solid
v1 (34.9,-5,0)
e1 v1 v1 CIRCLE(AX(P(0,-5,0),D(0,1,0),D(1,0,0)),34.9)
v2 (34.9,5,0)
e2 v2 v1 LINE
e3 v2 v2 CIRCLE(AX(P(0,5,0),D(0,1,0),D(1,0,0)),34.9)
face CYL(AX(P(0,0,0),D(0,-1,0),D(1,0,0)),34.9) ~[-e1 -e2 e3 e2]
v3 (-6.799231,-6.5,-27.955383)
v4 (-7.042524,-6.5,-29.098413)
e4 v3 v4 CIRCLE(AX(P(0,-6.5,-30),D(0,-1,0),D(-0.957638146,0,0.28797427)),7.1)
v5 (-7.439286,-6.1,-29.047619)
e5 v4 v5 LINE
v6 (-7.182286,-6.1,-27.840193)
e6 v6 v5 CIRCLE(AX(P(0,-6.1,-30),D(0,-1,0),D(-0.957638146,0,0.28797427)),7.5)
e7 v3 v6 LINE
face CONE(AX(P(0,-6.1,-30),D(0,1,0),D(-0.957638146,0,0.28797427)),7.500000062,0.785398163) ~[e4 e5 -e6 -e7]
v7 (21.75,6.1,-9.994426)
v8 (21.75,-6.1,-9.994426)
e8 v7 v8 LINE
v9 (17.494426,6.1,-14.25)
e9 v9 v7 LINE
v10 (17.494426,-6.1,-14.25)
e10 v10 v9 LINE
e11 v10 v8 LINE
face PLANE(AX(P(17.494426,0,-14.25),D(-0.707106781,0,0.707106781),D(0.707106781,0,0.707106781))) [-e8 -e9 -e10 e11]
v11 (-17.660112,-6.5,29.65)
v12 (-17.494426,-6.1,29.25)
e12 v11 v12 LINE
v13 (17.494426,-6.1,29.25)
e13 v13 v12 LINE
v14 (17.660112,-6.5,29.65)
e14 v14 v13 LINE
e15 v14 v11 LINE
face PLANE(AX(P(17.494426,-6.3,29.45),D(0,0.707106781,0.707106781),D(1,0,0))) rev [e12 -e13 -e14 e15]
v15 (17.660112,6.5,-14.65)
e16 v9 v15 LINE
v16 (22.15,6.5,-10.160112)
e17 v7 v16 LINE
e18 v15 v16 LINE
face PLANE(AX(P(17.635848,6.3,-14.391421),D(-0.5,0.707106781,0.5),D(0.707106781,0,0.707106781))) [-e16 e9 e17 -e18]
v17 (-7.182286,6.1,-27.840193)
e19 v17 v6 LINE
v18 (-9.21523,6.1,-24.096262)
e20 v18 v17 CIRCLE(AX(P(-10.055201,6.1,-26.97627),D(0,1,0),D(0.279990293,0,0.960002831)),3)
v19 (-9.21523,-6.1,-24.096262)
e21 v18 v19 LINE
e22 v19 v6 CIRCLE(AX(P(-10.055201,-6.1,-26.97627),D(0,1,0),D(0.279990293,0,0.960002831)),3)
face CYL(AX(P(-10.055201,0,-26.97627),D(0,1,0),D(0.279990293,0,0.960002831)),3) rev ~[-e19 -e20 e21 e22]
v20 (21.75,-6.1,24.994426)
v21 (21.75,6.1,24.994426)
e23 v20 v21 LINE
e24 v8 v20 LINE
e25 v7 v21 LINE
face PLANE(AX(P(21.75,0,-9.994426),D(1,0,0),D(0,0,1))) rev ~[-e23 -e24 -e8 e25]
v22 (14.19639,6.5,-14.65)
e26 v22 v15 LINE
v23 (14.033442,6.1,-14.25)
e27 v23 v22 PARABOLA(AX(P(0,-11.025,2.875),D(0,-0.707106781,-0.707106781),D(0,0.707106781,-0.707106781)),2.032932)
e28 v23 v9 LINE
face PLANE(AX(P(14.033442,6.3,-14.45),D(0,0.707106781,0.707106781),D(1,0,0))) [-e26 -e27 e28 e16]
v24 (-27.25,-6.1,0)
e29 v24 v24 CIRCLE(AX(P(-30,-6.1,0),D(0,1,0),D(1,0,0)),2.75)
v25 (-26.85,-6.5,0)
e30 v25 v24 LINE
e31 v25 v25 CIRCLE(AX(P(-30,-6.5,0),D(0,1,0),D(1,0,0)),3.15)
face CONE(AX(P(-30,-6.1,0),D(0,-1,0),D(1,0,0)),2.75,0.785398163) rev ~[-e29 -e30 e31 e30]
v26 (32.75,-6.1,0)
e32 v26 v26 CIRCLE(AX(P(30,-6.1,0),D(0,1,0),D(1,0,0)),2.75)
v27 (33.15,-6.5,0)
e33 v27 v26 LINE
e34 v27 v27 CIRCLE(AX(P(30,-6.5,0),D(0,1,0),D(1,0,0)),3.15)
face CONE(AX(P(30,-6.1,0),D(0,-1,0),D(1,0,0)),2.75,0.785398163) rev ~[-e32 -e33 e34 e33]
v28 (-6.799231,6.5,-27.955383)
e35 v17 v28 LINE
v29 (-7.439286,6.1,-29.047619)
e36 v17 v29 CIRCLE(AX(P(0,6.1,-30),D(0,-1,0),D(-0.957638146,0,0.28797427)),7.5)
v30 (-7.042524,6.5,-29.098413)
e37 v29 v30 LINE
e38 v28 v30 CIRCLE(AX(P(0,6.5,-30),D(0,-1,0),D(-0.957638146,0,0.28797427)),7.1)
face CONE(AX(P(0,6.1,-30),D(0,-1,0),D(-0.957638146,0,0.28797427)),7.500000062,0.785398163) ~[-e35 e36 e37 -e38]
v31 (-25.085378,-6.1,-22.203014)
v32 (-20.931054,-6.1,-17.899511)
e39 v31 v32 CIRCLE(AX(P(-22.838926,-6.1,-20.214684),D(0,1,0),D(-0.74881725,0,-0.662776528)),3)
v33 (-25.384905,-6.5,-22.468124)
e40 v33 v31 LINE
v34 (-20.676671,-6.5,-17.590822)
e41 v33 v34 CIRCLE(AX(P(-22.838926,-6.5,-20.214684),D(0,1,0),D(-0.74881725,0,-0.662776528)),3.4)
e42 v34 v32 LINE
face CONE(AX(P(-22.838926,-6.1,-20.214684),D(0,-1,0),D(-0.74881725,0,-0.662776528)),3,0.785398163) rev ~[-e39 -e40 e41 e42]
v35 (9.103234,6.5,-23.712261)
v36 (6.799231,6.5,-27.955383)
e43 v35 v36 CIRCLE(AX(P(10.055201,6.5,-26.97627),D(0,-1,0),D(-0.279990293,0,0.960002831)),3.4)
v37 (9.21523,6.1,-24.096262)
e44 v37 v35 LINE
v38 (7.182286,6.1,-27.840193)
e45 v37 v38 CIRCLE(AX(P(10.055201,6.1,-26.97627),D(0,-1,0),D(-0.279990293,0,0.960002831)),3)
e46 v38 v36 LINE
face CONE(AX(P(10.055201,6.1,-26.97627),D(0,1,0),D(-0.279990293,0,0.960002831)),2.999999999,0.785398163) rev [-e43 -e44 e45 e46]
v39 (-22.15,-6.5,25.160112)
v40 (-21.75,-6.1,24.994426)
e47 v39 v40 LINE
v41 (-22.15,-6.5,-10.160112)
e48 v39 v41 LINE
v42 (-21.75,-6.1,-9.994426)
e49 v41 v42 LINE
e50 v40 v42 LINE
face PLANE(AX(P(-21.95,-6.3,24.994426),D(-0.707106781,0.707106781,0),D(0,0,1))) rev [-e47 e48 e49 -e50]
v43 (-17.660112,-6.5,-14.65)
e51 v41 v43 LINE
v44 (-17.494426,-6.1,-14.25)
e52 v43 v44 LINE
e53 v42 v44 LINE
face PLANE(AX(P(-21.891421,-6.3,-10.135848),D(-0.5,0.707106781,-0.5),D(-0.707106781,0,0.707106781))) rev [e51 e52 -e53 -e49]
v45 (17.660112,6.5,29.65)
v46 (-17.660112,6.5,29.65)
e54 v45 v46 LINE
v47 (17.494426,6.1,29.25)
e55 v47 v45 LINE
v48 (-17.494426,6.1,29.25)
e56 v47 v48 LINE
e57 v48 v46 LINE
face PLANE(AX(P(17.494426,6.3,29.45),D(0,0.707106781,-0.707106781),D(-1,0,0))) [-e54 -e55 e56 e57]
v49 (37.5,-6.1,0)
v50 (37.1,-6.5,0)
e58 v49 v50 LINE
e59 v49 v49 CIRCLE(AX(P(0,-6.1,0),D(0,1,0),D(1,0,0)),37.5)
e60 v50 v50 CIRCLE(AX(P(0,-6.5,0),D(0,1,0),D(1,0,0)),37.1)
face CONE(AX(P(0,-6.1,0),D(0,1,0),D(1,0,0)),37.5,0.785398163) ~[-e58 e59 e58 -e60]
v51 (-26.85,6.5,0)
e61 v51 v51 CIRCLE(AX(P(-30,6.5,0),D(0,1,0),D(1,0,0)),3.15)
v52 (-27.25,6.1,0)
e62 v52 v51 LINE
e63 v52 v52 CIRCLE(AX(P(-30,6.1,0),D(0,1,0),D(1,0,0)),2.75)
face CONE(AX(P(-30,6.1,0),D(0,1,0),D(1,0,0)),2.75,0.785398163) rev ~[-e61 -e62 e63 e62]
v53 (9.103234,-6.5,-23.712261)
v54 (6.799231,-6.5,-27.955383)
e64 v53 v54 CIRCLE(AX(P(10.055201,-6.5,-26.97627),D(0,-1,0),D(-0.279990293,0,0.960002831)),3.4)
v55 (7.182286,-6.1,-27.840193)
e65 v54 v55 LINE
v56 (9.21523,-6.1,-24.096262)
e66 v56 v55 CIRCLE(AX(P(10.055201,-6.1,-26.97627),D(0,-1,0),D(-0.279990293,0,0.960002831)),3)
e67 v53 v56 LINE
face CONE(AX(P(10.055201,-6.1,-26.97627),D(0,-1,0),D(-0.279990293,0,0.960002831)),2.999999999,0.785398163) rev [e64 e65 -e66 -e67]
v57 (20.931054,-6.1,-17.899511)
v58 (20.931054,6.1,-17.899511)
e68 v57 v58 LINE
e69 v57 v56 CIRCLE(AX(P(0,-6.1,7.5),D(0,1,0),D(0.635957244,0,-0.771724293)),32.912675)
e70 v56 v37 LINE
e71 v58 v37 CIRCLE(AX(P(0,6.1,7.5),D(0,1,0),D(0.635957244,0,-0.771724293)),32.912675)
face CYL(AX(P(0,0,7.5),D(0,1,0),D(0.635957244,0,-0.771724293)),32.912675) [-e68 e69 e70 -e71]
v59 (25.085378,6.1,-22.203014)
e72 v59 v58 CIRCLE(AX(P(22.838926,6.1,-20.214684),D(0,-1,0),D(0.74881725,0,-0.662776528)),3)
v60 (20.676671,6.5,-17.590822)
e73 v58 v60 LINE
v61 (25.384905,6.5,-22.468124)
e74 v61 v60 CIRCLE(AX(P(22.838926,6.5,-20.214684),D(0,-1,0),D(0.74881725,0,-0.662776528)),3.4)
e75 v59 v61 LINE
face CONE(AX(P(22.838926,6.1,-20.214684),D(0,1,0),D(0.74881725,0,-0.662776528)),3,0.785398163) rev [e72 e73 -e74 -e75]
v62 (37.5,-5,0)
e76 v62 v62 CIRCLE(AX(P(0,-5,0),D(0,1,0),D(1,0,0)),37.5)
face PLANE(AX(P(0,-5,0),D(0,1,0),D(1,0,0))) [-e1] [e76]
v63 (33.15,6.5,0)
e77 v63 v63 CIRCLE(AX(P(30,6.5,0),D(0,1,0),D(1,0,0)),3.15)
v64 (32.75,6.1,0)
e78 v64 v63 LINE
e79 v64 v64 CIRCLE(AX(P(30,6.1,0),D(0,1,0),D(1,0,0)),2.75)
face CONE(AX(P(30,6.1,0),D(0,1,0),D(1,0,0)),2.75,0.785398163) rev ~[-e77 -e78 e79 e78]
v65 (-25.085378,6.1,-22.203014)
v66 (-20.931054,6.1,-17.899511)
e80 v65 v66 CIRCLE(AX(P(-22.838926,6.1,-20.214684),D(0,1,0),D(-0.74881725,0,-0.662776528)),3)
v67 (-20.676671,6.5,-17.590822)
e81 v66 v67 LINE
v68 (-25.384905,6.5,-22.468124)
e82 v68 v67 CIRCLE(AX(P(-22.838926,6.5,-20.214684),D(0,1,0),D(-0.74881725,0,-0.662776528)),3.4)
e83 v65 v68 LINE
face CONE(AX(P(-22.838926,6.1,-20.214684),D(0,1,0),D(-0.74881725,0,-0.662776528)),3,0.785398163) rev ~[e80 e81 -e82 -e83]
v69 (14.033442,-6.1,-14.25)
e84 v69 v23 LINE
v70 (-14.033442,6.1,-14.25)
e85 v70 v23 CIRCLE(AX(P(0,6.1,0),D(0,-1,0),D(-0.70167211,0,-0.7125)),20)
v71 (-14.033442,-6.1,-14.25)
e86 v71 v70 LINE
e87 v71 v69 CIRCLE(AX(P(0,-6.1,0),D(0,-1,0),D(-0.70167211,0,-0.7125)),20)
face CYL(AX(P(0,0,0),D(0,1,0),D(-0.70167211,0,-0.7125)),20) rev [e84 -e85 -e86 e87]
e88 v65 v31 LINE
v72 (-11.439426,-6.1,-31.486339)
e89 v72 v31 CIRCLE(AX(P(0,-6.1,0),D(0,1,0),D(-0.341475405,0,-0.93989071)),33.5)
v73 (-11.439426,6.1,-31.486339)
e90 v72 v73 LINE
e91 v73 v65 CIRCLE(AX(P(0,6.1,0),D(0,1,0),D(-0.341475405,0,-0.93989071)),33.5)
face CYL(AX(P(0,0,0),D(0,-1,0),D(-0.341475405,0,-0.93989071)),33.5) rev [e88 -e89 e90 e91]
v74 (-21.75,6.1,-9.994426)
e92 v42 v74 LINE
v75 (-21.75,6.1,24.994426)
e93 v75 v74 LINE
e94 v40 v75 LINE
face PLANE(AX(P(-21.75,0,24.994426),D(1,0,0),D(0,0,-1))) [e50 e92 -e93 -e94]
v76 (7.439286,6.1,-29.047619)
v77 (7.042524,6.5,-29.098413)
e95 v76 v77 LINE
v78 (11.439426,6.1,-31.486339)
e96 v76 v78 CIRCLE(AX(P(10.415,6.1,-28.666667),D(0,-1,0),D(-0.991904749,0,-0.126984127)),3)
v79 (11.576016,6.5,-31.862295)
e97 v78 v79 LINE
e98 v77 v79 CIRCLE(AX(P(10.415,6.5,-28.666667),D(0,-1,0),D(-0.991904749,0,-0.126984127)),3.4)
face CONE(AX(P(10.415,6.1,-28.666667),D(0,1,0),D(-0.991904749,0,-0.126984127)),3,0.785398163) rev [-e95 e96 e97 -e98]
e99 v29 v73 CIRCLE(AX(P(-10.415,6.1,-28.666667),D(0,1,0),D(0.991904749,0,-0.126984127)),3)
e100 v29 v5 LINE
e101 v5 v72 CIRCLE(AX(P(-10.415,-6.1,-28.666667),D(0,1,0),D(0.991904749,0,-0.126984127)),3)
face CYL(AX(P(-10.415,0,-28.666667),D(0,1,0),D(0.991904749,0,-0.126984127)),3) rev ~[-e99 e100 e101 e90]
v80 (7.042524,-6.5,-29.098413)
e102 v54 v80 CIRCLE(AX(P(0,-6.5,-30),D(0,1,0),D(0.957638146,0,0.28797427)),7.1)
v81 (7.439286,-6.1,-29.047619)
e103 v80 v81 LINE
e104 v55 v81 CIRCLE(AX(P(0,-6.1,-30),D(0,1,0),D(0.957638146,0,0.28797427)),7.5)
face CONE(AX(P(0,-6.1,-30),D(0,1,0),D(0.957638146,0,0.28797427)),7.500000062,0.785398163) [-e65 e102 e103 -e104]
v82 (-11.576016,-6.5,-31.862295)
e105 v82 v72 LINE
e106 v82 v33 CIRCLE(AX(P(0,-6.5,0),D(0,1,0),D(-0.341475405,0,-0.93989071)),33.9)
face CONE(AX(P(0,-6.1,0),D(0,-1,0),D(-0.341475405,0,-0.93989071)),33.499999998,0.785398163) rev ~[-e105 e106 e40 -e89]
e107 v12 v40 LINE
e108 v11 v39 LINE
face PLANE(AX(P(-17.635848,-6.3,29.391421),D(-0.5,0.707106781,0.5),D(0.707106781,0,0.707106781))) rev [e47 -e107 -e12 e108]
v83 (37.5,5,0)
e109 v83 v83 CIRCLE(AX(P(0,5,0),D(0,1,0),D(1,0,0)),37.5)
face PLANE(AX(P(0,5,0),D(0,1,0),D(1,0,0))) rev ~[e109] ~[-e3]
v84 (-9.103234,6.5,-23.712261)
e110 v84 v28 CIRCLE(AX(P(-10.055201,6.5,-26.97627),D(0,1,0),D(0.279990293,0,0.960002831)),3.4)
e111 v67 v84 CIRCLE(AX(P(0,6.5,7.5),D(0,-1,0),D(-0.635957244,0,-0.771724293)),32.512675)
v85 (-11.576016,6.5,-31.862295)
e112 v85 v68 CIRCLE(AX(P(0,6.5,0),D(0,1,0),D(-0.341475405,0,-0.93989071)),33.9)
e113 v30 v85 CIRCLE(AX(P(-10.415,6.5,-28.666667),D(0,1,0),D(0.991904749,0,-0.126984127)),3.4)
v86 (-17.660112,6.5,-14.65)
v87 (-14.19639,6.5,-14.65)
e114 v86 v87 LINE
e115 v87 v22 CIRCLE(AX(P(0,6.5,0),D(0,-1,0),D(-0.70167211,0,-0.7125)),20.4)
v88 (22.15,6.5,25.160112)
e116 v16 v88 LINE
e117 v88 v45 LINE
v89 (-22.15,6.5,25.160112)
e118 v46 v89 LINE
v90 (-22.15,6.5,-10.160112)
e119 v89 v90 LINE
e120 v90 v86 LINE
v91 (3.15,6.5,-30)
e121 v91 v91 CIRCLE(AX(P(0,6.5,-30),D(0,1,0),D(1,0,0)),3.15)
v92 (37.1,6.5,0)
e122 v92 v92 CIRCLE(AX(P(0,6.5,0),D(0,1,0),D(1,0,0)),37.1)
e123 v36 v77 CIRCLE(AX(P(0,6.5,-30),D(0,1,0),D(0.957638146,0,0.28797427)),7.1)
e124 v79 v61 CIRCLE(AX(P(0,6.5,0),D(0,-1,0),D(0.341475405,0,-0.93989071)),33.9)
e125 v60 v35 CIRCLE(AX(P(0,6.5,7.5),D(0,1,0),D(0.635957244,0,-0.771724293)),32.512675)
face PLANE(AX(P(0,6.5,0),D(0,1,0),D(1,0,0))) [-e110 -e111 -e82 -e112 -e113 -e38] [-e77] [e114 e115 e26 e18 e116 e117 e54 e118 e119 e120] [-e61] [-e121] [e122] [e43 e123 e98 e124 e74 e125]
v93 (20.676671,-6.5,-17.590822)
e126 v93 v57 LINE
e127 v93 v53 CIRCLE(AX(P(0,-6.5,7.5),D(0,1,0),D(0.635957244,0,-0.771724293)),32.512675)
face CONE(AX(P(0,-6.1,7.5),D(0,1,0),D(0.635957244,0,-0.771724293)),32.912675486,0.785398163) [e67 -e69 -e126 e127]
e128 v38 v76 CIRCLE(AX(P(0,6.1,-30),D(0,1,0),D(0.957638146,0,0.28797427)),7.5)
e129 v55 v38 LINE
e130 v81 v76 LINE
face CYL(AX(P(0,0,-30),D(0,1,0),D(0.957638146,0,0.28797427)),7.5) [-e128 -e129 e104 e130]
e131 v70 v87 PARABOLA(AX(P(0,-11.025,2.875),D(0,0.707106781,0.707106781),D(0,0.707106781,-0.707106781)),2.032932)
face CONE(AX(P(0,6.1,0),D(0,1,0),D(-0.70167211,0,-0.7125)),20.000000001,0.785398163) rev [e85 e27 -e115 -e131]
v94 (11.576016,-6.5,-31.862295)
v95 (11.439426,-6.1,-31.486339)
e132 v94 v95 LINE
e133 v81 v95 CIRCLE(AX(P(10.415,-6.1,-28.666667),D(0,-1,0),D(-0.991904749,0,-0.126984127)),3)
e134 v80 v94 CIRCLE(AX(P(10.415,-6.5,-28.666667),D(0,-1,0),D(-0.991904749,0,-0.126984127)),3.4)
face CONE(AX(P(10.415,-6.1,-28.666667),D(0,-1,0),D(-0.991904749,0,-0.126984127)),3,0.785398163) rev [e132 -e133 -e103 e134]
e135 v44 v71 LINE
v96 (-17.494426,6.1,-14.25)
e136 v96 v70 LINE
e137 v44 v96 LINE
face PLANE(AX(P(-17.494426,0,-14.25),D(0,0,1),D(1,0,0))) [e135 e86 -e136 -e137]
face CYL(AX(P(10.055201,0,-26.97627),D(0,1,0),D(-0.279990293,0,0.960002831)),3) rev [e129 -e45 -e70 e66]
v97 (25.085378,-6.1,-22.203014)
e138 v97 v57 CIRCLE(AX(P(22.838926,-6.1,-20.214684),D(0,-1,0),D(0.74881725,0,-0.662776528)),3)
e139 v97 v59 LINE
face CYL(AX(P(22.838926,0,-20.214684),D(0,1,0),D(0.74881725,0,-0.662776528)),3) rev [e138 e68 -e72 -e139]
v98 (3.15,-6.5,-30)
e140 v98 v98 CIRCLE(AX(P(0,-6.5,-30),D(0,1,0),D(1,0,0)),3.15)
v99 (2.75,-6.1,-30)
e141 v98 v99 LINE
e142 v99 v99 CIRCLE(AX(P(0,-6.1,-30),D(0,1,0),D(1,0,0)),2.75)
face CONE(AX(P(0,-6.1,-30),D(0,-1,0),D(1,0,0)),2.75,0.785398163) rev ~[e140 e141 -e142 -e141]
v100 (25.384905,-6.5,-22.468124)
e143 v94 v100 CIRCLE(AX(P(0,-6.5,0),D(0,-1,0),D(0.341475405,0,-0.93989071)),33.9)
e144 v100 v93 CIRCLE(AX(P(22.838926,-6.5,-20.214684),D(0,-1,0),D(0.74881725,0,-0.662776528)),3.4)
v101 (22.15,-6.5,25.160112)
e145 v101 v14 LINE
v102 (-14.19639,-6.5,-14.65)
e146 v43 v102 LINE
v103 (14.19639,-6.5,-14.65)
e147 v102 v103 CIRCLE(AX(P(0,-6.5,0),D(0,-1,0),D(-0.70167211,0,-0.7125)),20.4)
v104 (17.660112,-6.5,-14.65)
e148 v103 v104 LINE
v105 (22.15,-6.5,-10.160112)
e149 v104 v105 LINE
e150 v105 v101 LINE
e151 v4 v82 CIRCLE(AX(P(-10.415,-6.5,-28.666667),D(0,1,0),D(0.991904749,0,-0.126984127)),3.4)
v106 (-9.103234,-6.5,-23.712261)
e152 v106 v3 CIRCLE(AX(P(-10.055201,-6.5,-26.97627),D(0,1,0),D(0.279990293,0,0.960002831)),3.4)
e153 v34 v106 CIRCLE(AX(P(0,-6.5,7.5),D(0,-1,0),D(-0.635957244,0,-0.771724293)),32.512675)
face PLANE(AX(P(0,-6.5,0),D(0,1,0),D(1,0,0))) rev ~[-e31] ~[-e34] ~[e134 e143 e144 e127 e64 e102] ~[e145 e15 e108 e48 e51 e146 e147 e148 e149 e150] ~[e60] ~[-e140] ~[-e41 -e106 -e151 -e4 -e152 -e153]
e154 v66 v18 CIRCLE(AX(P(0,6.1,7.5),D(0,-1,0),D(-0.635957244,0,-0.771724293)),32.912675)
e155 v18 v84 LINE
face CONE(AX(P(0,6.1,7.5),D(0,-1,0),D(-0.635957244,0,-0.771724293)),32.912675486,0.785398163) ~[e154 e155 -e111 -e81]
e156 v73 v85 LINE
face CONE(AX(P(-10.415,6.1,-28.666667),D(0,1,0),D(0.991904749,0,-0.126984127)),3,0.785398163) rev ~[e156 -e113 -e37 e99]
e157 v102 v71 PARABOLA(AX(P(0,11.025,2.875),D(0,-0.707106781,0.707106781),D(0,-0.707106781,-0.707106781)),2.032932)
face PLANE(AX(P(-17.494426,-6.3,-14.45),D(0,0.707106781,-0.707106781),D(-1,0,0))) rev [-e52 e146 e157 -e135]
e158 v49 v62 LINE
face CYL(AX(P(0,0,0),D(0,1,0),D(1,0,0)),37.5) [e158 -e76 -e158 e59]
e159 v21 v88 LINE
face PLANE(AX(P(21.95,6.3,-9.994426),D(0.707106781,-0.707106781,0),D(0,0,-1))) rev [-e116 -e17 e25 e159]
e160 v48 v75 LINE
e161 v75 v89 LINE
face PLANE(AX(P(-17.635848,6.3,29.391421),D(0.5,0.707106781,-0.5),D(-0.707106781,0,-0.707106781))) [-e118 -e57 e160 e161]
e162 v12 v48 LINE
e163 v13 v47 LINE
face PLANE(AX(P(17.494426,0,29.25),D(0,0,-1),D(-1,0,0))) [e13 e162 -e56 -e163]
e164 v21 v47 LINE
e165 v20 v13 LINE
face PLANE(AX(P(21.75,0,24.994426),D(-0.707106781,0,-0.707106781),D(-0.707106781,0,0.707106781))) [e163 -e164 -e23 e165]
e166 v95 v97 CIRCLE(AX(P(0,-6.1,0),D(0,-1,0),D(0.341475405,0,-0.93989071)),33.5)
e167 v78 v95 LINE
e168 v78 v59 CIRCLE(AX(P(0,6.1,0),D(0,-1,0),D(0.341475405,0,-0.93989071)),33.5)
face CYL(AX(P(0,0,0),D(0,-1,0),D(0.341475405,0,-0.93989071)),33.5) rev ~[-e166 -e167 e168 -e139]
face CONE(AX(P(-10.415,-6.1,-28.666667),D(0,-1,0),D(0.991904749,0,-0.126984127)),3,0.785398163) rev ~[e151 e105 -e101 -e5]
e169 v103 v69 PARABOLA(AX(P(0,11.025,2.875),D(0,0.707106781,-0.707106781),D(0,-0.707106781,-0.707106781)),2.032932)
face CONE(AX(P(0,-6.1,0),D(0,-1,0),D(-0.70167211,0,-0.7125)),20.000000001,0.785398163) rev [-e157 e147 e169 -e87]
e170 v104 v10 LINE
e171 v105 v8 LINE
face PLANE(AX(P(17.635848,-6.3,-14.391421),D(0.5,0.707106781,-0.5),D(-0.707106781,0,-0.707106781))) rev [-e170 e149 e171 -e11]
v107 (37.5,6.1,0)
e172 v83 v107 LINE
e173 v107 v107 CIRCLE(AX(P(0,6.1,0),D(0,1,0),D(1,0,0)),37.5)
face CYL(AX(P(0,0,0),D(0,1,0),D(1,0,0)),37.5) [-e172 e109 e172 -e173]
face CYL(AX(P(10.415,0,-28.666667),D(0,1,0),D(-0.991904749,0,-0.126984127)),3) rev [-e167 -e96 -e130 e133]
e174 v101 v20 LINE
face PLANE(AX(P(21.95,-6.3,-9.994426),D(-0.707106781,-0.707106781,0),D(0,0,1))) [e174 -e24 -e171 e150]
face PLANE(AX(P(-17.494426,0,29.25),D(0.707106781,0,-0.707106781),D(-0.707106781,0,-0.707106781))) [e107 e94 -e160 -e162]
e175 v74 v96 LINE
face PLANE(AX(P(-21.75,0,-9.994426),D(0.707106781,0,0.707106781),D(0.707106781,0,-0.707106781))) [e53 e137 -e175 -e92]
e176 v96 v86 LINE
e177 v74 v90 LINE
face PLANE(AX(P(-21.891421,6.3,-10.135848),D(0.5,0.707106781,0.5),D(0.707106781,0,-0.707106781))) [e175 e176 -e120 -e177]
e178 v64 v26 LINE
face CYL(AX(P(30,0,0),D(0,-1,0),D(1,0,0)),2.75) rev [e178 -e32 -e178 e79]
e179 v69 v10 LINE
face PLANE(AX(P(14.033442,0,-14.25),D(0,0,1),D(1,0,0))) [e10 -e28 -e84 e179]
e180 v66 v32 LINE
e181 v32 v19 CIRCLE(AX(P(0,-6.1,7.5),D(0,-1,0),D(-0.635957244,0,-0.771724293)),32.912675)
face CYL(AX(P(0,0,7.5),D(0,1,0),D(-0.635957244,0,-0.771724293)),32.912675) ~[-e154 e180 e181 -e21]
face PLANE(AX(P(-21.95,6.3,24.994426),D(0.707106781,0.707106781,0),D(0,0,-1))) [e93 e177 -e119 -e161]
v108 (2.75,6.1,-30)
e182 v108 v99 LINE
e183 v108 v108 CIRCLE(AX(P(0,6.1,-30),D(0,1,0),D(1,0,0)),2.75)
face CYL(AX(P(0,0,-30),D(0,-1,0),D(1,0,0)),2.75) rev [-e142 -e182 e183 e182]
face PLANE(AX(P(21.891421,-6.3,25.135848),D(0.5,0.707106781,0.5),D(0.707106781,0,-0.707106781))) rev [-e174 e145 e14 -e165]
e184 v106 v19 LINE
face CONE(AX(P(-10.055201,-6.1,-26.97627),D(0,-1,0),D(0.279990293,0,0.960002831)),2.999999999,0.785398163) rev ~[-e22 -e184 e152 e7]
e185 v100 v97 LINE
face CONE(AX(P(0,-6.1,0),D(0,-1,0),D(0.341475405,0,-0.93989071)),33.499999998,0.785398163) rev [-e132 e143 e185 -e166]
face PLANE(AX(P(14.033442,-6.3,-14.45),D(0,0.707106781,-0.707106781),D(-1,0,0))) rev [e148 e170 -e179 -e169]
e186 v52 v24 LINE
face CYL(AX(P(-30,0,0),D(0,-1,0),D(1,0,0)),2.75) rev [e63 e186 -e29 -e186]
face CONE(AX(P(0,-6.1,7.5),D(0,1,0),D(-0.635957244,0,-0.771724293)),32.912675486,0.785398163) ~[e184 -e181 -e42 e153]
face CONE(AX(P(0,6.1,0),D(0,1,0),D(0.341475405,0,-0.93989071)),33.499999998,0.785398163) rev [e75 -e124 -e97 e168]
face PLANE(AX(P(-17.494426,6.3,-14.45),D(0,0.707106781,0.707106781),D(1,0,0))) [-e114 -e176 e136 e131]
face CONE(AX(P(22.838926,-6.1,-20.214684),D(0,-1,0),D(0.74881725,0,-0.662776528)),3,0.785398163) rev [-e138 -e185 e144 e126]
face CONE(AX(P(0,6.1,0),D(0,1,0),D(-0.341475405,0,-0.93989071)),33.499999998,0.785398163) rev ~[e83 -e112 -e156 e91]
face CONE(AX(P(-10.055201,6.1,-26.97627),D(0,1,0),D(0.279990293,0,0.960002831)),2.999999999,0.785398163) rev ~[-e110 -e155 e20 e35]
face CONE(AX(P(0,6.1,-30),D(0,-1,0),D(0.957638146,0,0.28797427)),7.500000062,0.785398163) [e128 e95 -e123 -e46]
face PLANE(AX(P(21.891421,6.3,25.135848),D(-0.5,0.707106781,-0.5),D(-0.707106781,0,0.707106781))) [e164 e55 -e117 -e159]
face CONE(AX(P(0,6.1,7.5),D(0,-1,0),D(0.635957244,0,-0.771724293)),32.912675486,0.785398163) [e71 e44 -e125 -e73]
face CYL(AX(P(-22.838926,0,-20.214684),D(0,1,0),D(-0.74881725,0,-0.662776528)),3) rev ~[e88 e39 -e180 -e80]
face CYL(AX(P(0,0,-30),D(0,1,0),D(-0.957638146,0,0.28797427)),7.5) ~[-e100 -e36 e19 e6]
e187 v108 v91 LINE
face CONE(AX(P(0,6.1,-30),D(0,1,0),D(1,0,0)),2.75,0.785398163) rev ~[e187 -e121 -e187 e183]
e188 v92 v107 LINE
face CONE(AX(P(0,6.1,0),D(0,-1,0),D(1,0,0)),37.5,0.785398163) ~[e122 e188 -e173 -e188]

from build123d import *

# Parameters (mm, degrees)
SKETCH1_R               = 37.5
SKETCH1_R_2             = 2.75
BOSS_EXTRUDE1_DEPTH     = 6.5
SKETCH2_R               = 44.9
SKETCH2_R_2             = 34.9
CUT_EXTRUDE_THIN1_DEPTH = 5
CHAMFER1_SIZE           = 0.4
CHAMFER2_SIZE           = 0.4


with BuildPart() as part:
    # Sketch1 → Boss-Extrude1 (new body, symmetric)
    with BuildSketch(Plane(origin=(0, 0, 0), x_dir=(1, 0, 0), z_dir=(0, 1, 0))):
        Circle(SKETCH1_R)
        with Locations((0, 30)):
            Circle(SKETCH1_R_2, mode=Mode.SUBTRACT)
        with Locations((30, 0)):
            Circle(SKETCH1_R_2, mode=Mode.SUBTRACT)
        with Locations((-30, 0)):
            Circle(SKETCH1_R_2, mode=Mode.SUBTRACT)
        with BuildLine():
            Line((-17.494426356, 14.25), (-14.033442201, 14.25))
            ThreePointArc((-14.033442201, 14.25), (0, 20), (14.033442201, 14.25))
            Line((14.033442201, 14.25), (17.494426356, 14.25))
            Line((17.494426356, 14.25), (21.75, 9.994426356))
            Line((21.75, 9.994426356), (21.75, -24.994426356))
            Line((21.75, -24.994426356), (17.494426356, -29.25))
            Line((17.494426356, -29.25), (-17.494426356, -29.25))
            Line((-17.494426356, -29.25), (-21.75, -24.994426356))
            Line((-21.75, -24.994426356), (-21.75, 9.994426356))
            Line((-21.75, 9.994426356), (-17.494426356, 14.25))
        make_face(mode=Mode.SUBTRACT)
        with BuildLine():
            ThreePointArc((7.182286097, 27.840192967), (7.335670337, 28.438609369), (7.439285619, 29.047619048))
            ThreePointArc((7.439285619, 29.047619048), (8.853359783, 31.228166276), (11.439426083, 31.486338798))
            ThreePointArc((11.439426083, 31.486338798), (18.843045333, 27.698188435), (25.085377879, 22.203013684))
            ThreePointArc((25.085377879, 22.203013684), (24.997326571, 18.131103641), (20.931054397, 17.899511222))
            ThreePointArc((20.931054397, 17.899511222), (15.388292289, 21.593722157), (9.215229657, 24.09626166))
            ThreePointArc((9.215229657, 24.09626166), (7.418794885, 25.54470973), (7.182286097, 27.840192967))
        make_face(mode=Mode.SUBTRACT)
        with BuildLine():
            ThreePointArc((-25.085377879, 22.203013684), (-24.997326571, 18.131103641), (-20.931054397, 17.899511222))
            ThreePointArc((-20.931054397, 17.899511222), (-15.388292289, 21.593722157), (-9.215229657, 24.09626166))
            ThreePointArc((-9.215229657, 24.09626166), (-7.418794885, 25.54470973), (-7.182286097, 27.840192967))
            ThreePointArc((-7.182286097, 27.840192967), (-7.335670337, 28.438609369), (-7.439285619, 29.047619048))
            ThreePointArc((-7.439285619, 29.047619048), (-8.853359783, 31.228166276), (-11.439426083, 31.486338798))
            ThreePointArc((-11.439426083, 31.486338798), (-18.843045333, 27.698188435), (-25.085377879, 22.203013684))
        make_face(mode=Mode.SUBTRACT)
    extrude(amount=BOSS_EXTRUDE1_DEPTH, both=True)

    # Sketch2 → Cut-Extrude-Thin1 (cut, symmetric)
    with BuildSketch(Plane(origin=(0, 0, 0), x_dir=(1, 0, 0), z_dir=(0, 1, 0))):
        Circle(SKETCH2_R)
        Circle(SKETCH2_R_2, mode=Mode.SUBTRACT)
    extrude(amount=CUT_EXTRUDE_THIN1_DEPTH, both=True, mode=Mode.SUBTRACT)

    # Chamfer1
    chamfer1_edges = [part.edges().sort_by_distance(p)[0] for p in [
        (-37.5, -6.5, 0),
        (-37.5, 6.5, 0),
    ]]
    chamfer(chamfer1_edges, length=CHAMFER1_SIZE)

    # Chamfer2
    chamfer2_edges = [part.edges().sort_by_distance(p)[0] for p in [
        (-19.622213178, -6.5, -12.122213178),
        (-21.75, -6.5, 7.5),
        (-19.622213178, -6.5, 27.122213178),
        (0, -6.5, 29.25),
        (19.622213178, -6.5, 27.122213178),
        (21.75, -6.5, 7.5),
        (19.622213178, -6.5, -12.122213178),
        (15.763934278, -6.5, -14.25),
        (0, -6.5, -20),
        (-15.763934278, -6.5, -14.25),
        (-19.622213178, 6.5, -12.122213178),
        (-21.75, 6.5, 7.5),
        (-19.622213178, 6.5, 27.122213178),
        (0, 6.5, 29.25),
        (19.622213178, 6.5, 27.122213178),
        (21.75, 6.5, 7.5),
        (19.622213178, 6.5, -12.122213178),
        (15.763934278, 6.5, -14.25),
        (0, 6.5, -20),
        (-15.763934278, 6.5, -14.25),
        (-2.75, -6.5, -30),
        (-2.75, 6.5, -30),
        (27.25, -6.5, 0),
        (27.25, 6.5, 0),
        (-32.75, -6.5, 0),
        (-32.75, 6.5, 0),
        (-15.388292289, -6.5, -21.593722157),
        (-7.418794885, -6.5, -25.54470973),
        (-7.335670337, -6.5, -28.438609369),
        (-8.853359783, -6.5, -31.228166276),
        (-18.843045333, -6.5, -27.698188435),
        (-24.997326571, -6.5, -18.131103641),
        (-15.388292289, 6.5, -21.593722157),
        (-7.418794885, 6.5, -25.54470973),
        (-7.335670337, 6.5, -28.438609369),
        (-8.853359783, 6.5, -31.228166276),
        (-18.843045333, 6.5, -27.698188435),
        (-24.997326571, 6.5, -18.131103641),
        (18.843045333, -6.5, -27.698188435),
        (8.853359783, -6.5, -31.228166276),
        (7.335670337, -6.5, -28.438609369),
        (7.418794885, -6.5, -25.54470973),
        (15.388292289, -6.5, -21.593722157),
        (24.997326571, -6.5, -18.131103641),
        (18.843045333, 6.5, -27.698188435),
        (8.853359783, 6.5, -31.228166276),
        (7.335670337, 6.5, -28.438609369),
        (7.418794885, 6.5, -25.54470973),
        (15.388292289, 6.5, -21.593722157),
        (24.997326571, 6.5, -18.131103641),
    ]]
    chamfer(chamfer2_edges, length=CHAMFER2_SIZE)


solid = part.part
